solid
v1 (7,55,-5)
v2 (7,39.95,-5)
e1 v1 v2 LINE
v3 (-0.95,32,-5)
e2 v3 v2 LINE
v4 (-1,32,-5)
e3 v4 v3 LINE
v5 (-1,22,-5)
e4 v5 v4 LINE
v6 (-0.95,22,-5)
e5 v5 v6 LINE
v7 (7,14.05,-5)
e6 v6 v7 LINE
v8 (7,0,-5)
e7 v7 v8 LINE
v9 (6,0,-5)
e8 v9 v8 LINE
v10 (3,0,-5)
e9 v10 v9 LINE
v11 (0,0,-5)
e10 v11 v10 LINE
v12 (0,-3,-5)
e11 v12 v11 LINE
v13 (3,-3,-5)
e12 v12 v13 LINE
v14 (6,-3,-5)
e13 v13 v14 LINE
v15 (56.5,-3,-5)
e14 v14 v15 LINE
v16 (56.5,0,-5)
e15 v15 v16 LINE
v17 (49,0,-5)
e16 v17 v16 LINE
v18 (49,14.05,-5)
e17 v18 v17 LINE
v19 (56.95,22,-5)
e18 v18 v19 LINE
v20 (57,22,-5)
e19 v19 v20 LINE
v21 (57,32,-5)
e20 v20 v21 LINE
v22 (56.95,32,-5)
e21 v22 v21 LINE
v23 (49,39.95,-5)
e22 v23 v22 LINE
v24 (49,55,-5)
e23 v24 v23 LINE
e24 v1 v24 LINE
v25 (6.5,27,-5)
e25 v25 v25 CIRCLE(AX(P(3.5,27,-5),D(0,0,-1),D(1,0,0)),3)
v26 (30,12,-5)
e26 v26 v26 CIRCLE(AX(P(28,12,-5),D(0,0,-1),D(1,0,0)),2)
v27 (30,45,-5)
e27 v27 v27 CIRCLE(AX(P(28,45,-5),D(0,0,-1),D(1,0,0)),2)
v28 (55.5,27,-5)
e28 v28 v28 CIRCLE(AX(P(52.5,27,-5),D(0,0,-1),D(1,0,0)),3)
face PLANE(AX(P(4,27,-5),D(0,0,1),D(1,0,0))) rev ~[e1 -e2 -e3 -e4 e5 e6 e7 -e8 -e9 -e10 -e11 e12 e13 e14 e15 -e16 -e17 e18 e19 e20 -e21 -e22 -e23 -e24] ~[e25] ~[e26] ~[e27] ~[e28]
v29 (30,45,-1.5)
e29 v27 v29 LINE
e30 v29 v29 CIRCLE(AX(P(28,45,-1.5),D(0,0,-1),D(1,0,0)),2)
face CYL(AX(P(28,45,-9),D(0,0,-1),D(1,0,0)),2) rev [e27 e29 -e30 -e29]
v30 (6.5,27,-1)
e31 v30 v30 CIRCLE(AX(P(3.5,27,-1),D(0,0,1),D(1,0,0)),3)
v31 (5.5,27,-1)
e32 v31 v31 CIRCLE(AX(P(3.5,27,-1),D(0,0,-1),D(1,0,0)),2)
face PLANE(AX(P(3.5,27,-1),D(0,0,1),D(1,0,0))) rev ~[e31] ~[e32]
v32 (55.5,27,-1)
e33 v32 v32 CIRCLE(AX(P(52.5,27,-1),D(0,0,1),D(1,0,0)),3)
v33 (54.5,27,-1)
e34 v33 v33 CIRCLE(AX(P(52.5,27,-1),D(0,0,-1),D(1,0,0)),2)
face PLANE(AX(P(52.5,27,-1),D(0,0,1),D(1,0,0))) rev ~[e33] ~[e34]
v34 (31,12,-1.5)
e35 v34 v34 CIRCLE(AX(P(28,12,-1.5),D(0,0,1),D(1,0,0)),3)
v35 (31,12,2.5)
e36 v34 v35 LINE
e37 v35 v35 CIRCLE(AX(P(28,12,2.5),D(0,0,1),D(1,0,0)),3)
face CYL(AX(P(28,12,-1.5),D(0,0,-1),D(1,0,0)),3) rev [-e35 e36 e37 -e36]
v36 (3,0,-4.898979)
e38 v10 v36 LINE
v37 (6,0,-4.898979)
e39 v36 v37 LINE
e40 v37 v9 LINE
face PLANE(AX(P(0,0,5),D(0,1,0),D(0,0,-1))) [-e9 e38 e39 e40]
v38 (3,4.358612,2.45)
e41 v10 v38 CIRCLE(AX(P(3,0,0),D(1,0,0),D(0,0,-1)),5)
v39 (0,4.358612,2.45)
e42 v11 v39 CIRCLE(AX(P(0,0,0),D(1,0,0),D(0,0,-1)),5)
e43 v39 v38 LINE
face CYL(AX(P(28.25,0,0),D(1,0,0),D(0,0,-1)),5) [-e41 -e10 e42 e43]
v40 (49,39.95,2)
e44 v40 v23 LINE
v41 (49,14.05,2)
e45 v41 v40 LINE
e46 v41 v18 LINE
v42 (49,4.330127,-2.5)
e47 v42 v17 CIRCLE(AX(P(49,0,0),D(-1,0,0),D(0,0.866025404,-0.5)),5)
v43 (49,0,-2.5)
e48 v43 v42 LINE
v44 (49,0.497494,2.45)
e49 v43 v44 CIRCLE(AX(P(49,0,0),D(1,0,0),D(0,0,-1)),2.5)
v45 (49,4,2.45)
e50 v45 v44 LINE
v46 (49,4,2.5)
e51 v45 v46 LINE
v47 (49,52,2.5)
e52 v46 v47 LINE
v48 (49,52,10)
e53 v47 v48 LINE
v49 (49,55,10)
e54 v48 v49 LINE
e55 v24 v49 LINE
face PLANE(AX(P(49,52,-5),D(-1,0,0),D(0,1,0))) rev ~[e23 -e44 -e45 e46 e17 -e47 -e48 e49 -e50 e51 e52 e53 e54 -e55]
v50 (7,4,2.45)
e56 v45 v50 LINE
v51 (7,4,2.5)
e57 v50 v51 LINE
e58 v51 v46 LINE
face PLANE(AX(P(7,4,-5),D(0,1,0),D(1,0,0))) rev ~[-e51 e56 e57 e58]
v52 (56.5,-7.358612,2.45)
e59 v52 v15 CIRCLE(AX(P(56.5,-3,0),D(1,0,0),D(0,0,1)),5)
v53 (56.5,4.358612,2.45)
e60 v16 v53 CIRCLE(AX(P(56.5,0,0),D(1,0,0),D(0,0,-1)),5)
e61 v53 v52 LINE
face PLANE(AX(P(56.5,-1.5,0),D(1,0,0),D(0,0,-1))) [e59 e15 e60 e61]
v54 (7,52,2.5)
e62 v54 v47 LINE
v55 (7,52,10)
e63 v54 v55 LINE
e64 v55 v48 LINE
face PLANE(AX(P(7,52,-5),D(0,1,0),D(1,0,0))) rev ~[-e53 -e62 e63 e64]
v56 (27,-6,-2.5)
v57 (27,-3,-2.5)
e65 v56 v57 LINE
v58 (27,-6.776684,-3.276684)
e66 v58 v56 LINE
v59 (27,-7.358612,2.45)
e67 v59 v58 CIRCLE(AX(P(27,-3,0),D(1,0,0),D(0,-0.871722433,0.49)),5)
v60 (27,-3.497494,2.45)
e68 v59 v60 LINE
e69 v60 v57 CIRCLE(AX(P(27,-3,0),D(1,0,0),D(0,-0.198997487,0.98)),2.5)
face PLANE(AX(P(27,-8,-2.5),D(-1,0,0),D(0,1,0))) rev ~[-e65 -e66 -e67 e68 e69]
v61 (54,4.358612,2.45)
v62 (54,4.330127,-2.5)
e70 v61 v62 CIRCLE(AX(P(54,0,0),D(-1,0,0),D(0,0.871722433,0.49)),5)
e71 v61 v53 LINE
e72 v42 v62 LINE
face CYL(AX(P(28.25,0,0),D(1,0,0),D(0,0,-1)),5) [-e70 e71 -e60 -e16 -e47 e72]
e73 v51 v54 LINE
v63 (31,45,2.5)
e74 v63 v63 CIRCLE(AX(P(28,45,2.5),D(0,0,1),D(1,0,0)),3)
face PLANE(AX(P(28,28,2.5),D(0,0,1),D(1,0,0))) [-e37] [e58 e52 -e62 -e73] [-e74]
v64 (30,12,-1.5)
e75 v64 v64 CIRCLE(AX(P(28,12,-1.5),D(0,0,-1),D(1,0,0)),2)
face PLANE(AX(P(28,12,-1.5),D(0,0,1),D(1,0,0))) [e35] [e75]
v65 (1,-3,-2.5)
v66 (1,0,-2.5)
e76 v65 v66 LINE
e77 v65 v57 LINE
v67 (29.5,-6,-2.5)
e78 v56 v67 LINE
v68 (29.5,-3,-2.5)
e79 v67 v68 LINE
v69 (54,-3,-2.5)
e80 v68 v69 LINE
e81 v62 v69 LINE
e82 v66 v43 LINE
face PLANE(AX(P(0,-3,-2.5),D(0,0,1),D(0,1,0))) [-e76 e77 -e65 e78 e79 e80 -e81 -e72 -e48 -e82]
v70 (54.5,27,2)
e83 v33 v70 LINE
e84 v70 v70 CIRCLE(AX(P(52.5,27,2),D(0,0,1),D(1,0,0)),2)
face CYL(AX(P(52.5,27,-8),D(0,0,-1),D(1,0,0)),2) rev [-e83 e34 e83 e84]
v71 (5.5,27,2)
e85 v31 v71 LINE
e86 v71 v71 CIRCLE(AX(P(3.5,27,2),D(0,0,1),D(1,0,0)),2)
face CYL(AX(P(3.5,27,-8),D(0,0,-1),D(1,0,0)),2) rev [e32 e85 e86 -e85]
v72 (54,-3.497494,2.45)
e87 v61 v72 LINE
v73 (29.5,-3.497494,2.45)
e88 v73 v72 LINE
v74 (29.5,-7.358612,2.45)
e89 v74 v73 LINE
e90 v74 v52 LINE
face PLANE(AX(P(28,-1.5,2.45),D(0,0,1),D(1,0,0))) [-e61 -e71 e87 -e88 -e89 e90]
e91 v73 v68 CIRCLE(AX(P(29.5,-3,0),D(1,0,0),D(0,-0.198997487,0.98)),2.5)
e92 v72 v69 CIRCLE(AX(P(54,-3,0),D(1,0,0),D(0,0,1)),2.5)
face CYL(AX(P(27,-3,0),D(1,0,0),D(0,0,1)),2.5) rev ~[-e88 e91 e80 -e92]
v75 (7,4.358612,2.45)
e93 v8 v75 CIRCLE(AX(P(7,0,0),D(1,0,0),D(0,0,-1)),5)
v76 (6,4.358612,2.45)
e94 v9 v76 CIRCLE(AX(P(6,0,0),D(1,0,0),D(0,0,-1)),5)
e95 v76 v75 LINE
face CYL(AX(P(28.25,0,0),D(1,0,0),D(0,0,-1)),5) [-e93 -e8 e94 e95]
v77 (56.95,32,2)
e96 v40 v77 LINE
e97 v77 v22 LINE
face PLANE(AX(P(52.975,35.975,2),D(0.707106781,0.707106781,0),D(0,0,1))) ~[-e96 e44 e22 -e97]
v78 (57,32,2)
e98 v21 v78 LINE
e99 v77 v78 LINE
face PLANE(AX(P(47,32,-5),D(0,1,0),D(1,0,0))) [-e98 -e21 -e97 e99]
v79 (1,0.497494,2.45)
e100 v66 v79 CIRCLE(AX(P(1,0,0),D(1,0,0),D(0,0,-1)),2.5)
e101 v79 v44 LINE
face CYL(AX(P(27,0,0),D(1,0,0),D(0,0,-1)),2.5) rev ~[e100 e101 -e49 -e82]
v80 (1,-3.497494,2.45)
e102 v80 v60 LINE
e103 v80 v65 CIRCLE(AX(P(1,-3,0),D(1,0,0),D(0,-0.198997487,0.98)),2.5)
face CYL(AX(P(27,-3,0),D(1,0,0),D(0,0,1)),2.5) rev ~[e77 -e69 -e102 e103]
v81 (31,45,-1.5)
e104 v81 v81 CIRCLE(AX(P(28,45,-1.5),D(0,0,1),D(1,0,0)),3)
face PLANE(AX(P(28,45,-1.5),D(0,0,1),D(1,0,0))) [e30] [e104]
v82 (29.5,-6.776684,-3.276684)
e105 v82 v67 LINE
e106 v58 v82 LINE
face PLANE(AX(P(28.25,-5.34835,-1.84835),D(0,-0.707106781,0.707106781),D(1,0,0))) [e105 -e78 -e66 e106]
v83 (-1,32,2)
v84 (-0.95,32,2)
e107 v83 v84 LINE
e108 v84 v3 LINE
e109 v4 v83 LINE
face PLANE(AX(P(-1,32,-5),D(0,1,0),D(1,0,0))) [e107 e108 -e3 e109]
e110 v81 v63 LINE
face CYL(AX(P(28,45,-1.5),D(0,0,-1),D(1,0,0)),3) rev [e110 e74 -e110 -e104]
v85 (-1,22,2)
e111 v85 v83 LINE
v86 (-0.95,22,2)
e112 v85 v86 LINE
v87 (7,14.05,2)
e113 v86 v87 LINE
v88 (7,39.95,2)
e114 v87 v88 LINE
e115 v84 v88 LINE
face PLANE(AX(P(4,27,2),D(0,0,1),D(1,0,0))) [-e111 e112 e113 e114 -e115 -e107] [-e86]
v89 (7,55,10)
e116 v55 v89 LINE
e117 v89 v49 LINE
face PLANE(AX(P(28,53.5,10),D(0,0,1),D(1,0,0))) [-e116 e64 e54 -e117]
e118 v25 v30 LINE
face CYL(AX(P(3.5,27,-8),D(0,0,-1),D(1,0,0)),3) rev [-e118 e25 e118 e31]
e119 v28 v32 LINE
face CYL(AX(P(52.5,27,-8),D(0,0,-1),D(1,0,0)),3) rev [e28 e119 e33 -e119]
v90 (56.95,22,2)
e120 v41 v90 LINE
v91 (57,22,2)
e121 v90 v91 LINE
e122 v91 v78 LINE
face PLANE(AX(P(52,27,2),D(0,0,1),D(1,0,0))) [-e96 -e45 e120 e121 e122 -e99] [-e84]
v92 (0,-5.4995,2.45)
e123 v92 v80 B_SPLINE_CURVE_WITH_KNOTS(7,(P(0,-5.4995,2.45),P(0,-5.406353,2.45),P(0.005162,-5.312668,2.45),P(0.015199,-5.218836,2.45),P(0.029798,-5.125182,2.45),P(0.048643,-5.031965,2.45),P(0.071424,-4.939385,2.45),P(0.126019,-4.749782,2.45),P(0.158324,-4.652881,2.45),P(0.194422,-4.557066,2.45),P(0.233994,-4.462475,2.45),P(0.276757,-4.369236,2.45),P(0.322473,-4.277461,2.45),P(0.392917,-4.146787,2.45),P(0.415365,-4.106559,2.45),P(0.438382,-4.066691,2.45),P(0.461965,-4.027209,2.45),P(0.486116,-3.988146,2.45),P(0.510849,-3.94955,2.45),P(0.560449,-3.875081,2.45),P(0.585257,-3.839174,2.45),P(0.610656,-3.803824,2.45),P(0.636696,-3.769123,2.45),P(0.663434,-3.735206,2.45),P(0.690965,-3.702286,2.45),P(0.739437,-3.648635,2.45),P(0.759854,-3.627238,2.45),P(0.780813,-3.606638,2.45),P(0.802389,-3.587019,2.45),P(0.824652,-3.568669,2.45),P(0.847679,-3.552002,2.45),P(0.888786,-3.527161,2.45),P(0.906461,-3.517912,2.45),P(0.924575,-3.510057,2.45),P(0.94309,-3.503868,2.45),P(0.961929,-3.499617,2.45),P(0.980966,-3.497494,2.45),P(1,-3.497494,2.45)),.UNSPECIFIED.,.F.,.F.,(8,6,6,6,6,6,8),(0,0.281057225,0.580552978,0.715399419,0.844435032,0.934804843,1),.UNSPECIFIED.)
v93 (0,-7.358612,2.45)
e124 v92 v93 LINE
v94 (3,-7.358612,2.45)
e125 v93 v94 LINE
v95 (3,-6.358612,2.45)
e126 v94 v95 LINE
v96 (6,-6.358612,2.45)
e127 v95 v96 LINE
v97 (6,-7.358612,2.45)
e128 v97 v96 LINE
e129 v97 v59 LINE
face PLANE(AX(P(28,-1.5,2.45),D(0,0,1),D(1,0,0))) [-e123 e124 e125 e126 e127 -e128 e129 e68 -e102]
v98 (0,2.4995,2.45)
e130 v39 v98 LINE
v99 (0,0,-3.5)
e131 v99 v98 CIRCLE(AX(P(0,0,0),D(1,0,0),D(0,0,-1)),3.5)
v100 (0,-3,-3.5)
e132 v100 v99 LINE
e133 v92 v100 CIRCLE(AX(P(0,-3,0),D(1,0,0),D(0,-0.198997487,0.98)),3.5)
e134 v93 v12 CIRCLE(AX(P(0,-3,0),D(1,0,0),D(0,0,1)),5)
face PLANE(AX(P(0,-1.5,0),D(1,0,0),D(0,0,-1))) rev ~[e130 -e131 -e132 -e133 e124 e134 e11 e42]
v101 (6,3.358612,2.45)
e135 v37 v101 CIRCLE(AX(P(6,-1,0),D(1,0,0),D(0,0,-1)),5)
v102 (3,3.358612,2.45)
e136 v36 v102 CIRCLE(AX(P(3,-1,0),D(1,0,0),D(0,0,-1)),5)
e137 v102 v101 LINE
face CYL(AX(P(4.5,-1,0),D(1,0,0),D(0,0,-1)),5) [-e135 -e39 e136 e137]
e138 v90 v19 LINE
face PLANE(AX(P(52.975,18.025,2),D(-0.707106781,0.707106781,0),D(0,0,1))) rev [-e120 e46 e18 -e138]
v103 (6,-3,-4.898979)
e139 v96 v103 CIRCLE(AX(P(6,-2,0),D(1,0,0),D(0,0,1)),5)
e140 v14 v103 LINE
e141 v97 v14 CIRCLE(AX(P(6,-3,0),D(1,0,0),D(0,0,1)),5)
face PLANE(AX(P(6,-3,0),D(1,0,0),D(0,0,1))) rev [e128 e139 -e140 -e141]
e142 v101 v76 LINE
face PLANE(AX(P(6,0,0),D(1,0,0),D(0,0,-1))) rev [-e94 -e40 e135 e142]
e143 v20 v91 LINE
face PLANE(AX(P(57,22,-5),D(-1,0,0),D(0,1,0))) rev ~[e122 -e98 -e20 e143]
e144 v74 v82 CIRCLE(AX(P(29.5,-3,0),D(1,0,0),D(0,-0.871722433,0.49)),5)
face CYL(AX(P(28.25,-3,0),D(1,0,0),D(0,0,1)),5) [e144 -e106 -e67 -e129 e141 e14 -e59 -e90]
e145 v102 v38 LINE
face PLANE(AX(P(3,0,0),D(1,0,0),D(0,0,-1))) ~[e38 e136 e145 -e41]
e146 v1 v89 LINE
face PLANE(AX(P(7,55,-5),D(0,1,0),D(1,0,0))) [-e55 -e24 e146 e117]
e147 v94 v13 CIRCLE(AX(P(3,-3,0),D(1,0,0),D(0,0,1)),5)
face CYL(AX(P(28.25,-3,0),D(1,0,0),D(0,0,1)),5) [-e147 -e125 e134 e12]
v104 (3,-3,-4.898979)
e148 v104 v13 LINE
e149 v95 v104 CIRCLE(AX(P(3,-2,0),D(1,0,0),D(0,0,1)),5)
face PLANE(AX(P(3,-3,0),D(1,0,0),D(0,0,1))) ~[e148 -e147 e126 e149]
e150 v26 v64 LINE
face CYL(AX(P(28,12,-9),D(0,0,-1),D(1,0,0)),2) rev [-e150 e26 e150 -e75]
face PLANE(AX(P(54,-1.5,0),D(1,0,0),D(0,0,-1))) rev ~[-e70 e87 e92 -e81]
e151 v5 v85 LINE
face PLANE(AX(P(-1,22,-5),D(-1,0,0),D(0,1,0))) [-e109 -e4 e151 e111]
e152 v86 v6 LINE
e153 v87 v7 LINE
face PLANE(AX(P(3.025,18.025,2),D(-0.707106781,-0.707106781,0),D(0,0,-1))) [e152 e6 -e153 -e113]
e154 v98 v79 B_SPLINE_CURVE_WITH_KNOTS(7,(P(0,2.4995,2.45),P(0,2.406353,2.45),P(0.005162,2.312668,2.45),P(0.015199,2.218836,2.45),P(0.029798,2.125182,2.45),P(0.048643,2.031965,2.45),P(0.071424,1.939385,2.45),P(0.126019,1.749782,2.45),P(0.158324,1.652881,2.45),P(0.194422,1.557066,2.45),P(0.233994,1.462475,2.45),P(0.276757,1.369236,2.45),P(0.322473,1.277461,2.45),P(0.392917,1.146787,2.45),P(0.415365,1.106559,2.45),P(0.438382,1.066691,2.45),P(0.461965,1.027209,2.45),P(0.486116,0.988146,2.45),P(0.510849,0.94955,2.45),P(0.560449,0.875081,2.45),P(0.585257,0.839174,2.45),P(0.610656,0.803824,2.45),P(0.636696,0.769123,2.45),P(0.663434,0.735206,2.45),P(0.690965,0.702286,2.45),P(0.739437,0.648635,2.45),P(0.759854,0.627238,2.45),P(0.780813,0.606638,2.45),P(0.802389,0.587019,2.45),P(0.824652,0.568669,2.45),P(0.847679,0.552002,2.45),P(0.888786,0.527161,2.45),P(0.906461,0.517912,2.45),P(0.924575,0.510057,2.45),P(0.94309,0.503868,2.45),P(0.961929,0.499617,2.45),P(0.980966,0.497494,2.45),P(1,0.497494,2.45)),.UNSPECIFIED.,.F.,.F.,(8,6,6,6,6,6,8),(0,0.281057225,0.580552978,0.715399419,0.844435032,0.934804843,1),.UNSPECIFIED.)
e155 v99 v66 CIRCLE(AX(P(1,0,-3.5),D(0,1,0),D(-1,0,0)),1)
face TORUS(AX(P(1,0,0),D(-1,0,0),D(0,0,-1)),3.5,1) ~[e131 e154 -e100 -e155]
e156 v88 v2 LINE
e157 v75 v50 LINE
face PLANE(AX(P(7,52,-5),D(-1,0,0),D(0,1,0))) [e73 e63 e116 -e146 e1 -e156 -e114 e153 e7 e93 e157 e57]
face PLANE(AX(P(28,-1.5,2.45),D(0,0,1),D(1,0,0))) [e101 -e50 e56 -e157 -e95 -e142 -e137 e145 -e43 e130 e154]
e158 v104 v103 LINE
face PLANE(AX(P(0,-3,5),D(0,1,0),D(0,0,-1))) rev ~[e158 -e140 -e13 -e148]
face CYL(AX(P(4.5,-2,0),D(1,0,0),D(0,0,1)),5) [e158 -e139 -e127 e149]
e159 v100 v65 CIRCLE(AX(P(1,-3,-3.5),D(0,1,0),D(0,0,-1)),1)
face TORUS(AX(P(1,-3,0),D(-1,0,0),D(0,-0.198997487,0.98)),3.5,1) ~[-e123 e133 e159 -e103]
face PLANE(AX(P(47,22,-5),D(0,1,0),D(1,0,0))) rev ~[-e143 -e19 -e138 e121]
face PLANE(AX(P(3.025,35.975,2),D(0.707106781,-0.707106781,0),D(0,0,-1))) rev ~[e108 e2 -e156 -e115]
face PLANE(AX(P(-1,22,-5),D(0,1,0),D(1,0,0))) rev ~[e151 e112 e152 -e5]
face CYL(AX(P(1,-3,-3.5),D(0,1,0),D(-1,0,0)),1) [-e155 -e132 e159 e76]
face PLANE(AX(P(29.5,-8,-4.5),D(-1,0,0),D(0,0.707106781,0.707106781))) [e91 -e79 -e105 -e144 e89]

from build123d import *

# Parameters (mm, degrees)
CYLINDER008_R           = 3
CYLINDER008_DEPTH       = 4
CYLINDER009_R           = 2
CYLINDER009_DEPTH       = 11.5
CYLINDER007_R           = 3
CYLINDER007_DEPTH       = 4
CYLINDER006_R           = 2
CYLINDER006_DEPTH       = 11.5
CYLINDER004_R           = 2
CYLINDER004_DEPTH       = 10
CYLINDER005_R           = 3
CYLINDER005_DEPTH       = 7
CYLINDER003_R           = 2
CYLINDER003_DEPTH       = 10
CYLINDER_R              = 3
CYLINDER_DEPTH          = 7
CYLINDER002_R           = 5
CYLINDER002_DEPTH       = 56.5
CYLINDER002_PITCH_ANGLE = 90
BOX011_W                = 42
BOX011_H                = 5
BOX011_DEPTH            = 5
BOX007_W                = 42
BOX007_H                = 48
BOX007_DEPTH            = 7.5
BOX008_W                = 42
BOX008_H                = 3
BOX008_DEPTH            = 15
BOX015_W                = 10
BOX015_H                = 10
BOX015_DEPTH            = 7
BOX014_W                = 10
BOX014_H                = 10
BOX014_DEPTH            = 7
BOX020_W                = 2.5
BOX020_H                = 7.5
BOX020_DEPTH            = 10
BOX020_ROLL_ANGLE       = 45
BOX005_W                = 2.5
BOX005_H                = 5
BOX005_DEPTH            = 10
BOX018_W                = 5
BOX018_H                = 5
BOX018_DEPTH            = 10
BOX019_W                = 58
BOX019_H                = 13
BOX019_DEPTH            = 10
CYLINDER021_W           = 5
CYLINDER021_H           = 3
CYLINDER021_ANGLE       = 180
CYLINDER019_W           = 5
CYLINDER019_H           = 3
CYLINDER019_ANGLE       = 180
CYLINDER017_W           = 2.5
CYLINDER017_H           = 54
CYLINDER017_ANGLE       = 180
CYLINDER016_W           = 5
CYLINDER016_H           = 56.5
CYLINDER016_ANGLE       = 180
BOX017_W                = 5
BOX017_H                = 3
BOX017_DEPTH            = 54
BOX016_W                = 10
BOX016_H                = 3
BOX016_DEPTH            = 56.5
CYLINDER020_W           = 5
CYLINDER020_H           = 3
CYLINDER020_ANGLE       = 180
CYLINDER018_W           = 5
CYLINDER018_H           = 3
CYLINDER018_ANGLE       = 180
CYLINDER014_W           = 2.5
CYLINDER014_H           = 54
CYLINDER014_ANGLE       = 180
CYLINDER015_W           = 5
CYLINDER015_H           = 56.5
CYLINDER015_ANGLE       = 180
FUSION007_PITCH_ANGLE   = 90
FILLET_R                = 1
CHAMFER003_SIZE         = 7.95


with BuildPart() as cylinder011:
    # Cylinder008 → Cylinder008 (new body)
    with BuildSketch(Plane.XY.offset(7.5)):
        Circle(CYLINDER008_R)
    extrude(amount=CYLINDER008_DEPTH)


with BuildPart() as bolt_hole4:
    # Cylinder009 → Cylinder009 (new body)
    with BuildSketch(Plane.XY):
        Circle(CYLINDER009_R)
    extrude(amount=CYLINDER009_DEPTH)

    # Fusion004: union Cylinder011
    add(cylinder011.part)


with BuildPart() as bolt_hole4_1:
    # Fusion004 placement: moved
    add(bolt_hole4.part.moved(Location((28, 45, -9))))


with BuildPart() as cylinder008:
    # Cylinder007 → Cylinder007 (new body)
    with BuildSketch(Plane.XY.offset(7.5)):
        Circle(CYLINDER007_R)
    extrude(amount=CYLINDER007_DEPTH)


with BuildPart() as bolt_hole3:
    # Cylinder006 → Cylinder006 (new body)
    with BuildSketch(Plane.XY):
        Circle(CYLINDER006_R)
    extrude(amount=CYLINDER006_DEPTH)

    # Fusion003: union Cylinder008
    add(cylinder008.part)


with BuildPart() as bolt_hole3_1:
    # Fusion003 placement: moved
    add(bolt_hole3.part.moved(Location((28, 12, -9))))


with BuildPart() as cylinder006:
    # Cylinder004 → Cylinder004 (new body)
    with BuildSketch(Plane.XY):
        Circle(CYLINDER004_R)
    extrude(amount=CYLINDER004_DEPTH)


with BuildPart() as bolt_hole2:
    # Cylinder005 → Cylinder005 (new body)
    with BuildSketch(Plane.XY):
        Circle(CYLINDER005_R)
    extrude(amount=CYLINDER005_DEPTH)

    # Fusion002: union Cylinder006
    add(cylinder006.part)


with BuildPart() as bolt_hole2_1:
    # Fusion002 placement: moved
    add(bolt_hole2.part.moved(Location((52.5, 27, -8))))


with BuildPart() as cylinder001:
    # Cylinder003 → Cylinder003 (new body)
    with BuildSketch(Plane.XY):
        Circle(CYLINDER003_R)
    extrude(amount=CYLINDER003_DEPTH)


with BuildPart() as bolt_hole1:
    # Cylinder → Cylinder (new body)
    with BuildSketch(Plane.XY):
        Circle(CYLINDER_R)
    extrude(amount=CYLINDER_DEPTH)

    # Fusion001: union Cylinder001
    add(cylinder001.part)


with BuildPart() as bolt_hole1_1:
    # Fusion001 placement: moved
    add(bolt_hole1.part.moved(Location((3.5, 27, -8))))


with BuildPart() as cable_tunnel_outer_shell:
    # Cylinder002 → Cylinder002 (new body)
    with BuildSketch(Plane.XY):
        Circle(CYLINDER002_R)
    extrude(amount=CYLINDER002_DEPTH)


with BuildPart() as cable_tunnel_outer_shell_1:
    # Cylinder002 pitch: moved
    add(cable_tunnel_outer_shell.part.rotate(Axis((0, 0, 0), (0, 1, 0)), CYLINDER002_PITCH_ANGLE))


with BuildPart() as cable_tunnel_outer_shell_2:
    # Cylinder002 placement: moved
    add(cable_tunnel_outer_shell_1.part)


with BuildPart() as fill_cut1:
    # Box011 → Box011 (new body)
    with BuildSketch(Plane(origin=(7, 0, -5), x_dir=(1, 0, 0), z_dir=(0, 0, 1))):
        with Locations((21, 2.5)):
            Rectangle(BOX011_W, BOX011_H)
    extrude(amount=BOX011_DEPTH)

    # Cut: cut cable-tunnel-outer-shell
    add(cable_tunnel_outer_shell_2.part, mode=Mode.SUBTRACT)


with BuildPart() as base_plate1:
    # Box007 → Box007 (new body)
    with BuildSketch(Plane(origin=(7, 4, -5), x_dir=(1, 0, 0), z_dir=(0, 0, 1))):
        with Locations((21, 24)):
            Rectangle(BOX007_W, BOX007_H)
    extrude(amount=BOX007_DEPTH)


with BuildPart() as nema17_support:
    # Box008 → Box008 (new body)
    with BuildSketch(Plane(origin=(7, 52, -5), x_dir=(1, 0, 0), z_dir=(0, 0, 1))):
        with Locations((21, 1.5)):
            Rectangle(BOX008_W, BOX008_H)
    extrude(amount=BOX008_DEPTH)


with BuildPart() as hold2:
    # Box015 → Box015 (new body)
    with BuildSketch(Plane(origin=(47, 22, -5), x_dir=(1, 0, 0), z_dir=(0, 0, 1))):
        with Locations((5, 5)):
            Rectangle(BOX015_W, BOX015_H)
    extrude(amount=BOX015_DEPTH)


with BuildPart() as hold1:
    # Box014 → Box014 (new body)
    with BuildSketch(Plane(origin=(-1, 22, -5), x_dir=(1, 0, 0), z_dir=(0, 0, 1))):
        with Locations((5, 5)):
            Rectangle(BOX014_W, BOX014_H)
    extrude(amount=BOX014_DEPTH)


with BuildPart() as cut_endstop_cable45:
    # Box020 → Box020 (new body)
    with BuildSketch(Plane.XY):
        with Locations((1.25, 3.75)):
            Rectangle(BOX020_W, BOX020_H)
    extrude(amount=BOX020_DEPTH)


with BuildPart() as cut_endstop_cable45_1:
    # Box020 roll: moved
    add(cut_endstop_cable45.part.rotate(Axis((0, 0, 0), (1, 0, 0)), BOX020_ROLL_ANGLE))


with BuildPart() as cut_endstop_cable45_2:
    # Box020 placement: moved
    add(cut_endstop_cable45_1.part.moved(Location((27, -8, -4.5))))


with BuildPart() as cut_endstop_cable:
    # Box005 → Box005 (new body)
    with BuildSketch(Plane(origin=(27, -8, -2.5), x_dir=(1, 0, 0), z_dir=(0, 0, 1))):
        with Locations((1.25, 2.5)):
            Rectangle(BOX005_W, BOX005_H)
    extrude(amount=BOX005_DEPTH)


with BuildPart() as cut_cable_drop:
    # Box018 → Box018 (new body)
    with BuildSketch(Plane(origin=(49, 0, -2.5), x_dir=(1, 0, 0), z_dir=(0, 0, 1))):
        with Locations((2.5, 2.5)):
            Rectangle(BOX018_W, BOX018_H)
    extrude(amount=BOX018_DEPTH)


with BuildPart() as cut_open:
    # Box019 → Box019 (new body)
    with BuildSketch(Plane(origin=(-1, -8, 2.45), x_dir=(1, 0, 0), z_dir=(0, 0, 1))):
        with Locations((29, 6.5)):
            Rectangle(BOX019_W, BOX019_H)
    extrude(amount=BOX019_DEPTH)


with BuildPart() as cable_tunnel_ziptie_inner_upper:
    # Cylinder021 → Cylinder021 (revolve)
    with BuildSketch(Plane(origin=(0, 1, 3), x_dir=(-1, 0, 0), z_dir=(0, 1, 0))):
        with Locations((2.5, 1.5)):
            Rectangle(CYLINDER021_W, CYLINDER021_H)
    revolve(axis=Axis((0, 1, 3), (0, 0, 1)), revolution_arc=CYLINDER021_ANGLE)


with BuildPart() as cable_tunnel_ziptie_upper_groove:
    # Cylinder019 → Cylinder019 (revolve)
    with BuildSketch(Plane(origin=(0, 0, 3), x_dir=(-1, 0, 0), z_dir=(0, 1, 0))):
        with Locations((2.5, 1.5)):
            Rectangle(CYLINDER019_W, CYLINDER019_H)
    revolve(axis=Axis((0, 0, 3), (0, 0, 1)), revolution_arc=CYLINDER019_ANGLE)

    # Cut014: cut cable-tunnel-ziptie-inner-upper
    add(cable_tunnel_ziptie_inner_upper.part, mode=Mode.SUBTRACT)


with BuildPart() as cable_tunnel_inner_upper:
    # Cylinder017 → Cylinder017 (revolve)
    with BuildSketch(Plane(origin=(0, 0, 0), x_dir=(-1, 0, 0), z_dir=(0, 1, 0))):
        with Locations((1.25, 27)):
            Rectangle(CYLINDER017_W, CYLINDER017_H)
    revolve(axis=Axis((0, 0, 0), (0, 0, 1)), revolution_arc=CYLINDER017_ANGLE)


with BuildPart() as cable_tunnel_upper:
    # Cylinder016 → Cylinder016 (revolve)
    with BuildSketch(Plane(origin=(0, 0, 0), x_dir=(-1, 0, 0), z_dir=(0, 1, 0))):
        with Locations((2.5, 28.25)):
            Rectangle(CYLINDER016_W, CYLINDER016_H)
    revolve(axis=Axis((0, 0, 0), (0, 0, 1)), revolution_arc=CYLINDER016_ANGLE)

    # Cut018: cut cable-tunnel-inner-upper
    add(cable_tunnel_inner_upper.part, mode=Mode.SUBTRACT)

    # Cut019: cut cable-tunnel-ziptie-upper-groove
    add(cable_tunnel_ziptie_upper_groove.part, mode=Mode.SUBTRACT)


with BuildPart() as cable_tunnel_upper_1:
    # Cut019 placement: moved
    add(cable_tunnel_upper.part.moved(Location((0, -3, 0))))


with BuildPart() as cable_tunnel_middle_inner:
    # Box017 → Box017 (new body)
    with BuildSketch(Plane(origin=(-2.5, -3, 0), x_dir=(1, 0, 0), z_dir=(0, 0, 1))):
        with Locations((2.5, 1.5)):
            Rectangle(BOX017_W, BOX017_H)
    extrude(amount=BOX017_DEPTH)


with BuildPart() as cable_tunnel_middle:
    # Box016 → Box016 (new body)
    with BuildSketch(Plane(origin=(-5, -3, 0), x_dir=(1, 0, 0), z_dir=(0, 0, 1))):
        with Locations((5, 1.5)):
            Rectangle(BOX016_W, BOX016_H)
    extrude(amount=BOX016_DEPTH)

    # Cut020: cut cable-tunnel-middle-inner
    add(cable_tunnel_middle_inner.part, mode=Mode.SUBTRACT)


with BuildPart() as cable_tunnel_ziptie_inner_lower:
    # Cylinder020 → Cylinder020 (revolve)
    with BuildSketch(Plane(origin=(0, -1, 3), x_dir=(1, 0, 0), z_dir=(0, -1, 0))):
        with Locations((2.5, 1.5)):
            Rectangle(CYLINDER020_W, CYLINDER020_H)
    revolve(axis=Axis((0, -1, 3), (0, 0, 1)), revolution_arc=CYLINDER020_ANGLE)


with BuildPart() as cable_tunnel_ziptie_lower_groove:
    # Cylinder018 → Cylinder018 (revolve)
    with BuildSketch(Plane(origin=(0, 0, 3), x_dir=(1, 0, 0), z_dir=(0, -1, 0))):
        with Locations((2.5, 1.5)):
            Rectangle(CYLINDER018_W, CYLINDER018_H)
    revolve(axis=Axis((0, 0, 3), (0, 0, 1)), revolution_arc=CYLINDER018_ANGLE)

    # Cut015: cut cable-tunnel-ziptie-inner-lower
    add(cable_tunnel_ziptie_inner_lower.part, mode=Mode.SUBTRACT)


with BuildPart() as cable_tunnel_inner_lower:
    # Cylinder014 → Cylinder014 (revolve)
    with BuildSketch(Plane.XZ):
        with Locations((1.25, 27)):
            Rectangle(CYLINDER014_W, CYLINDER014_H)
    revolve(axis=Axis((0, 0, 0), (0, 0, 1)), revolution_arc=CYLINDER014_ANGLE)


with BuildPart() as holder_with_cable_tunnel:
    # Cylinder015 → Cylinder015 (revolve)
    with BuildSketch(Plane.XZ):
        with Locations((2.5, 28.25)):
            Rectangle(CYLINDER015_W, CYLINDER015_H)
    revolve(axis=Axis((0, 0, 0), (0, 0, 1)), revolution_arc=CYLINDER015_ANGLE)

    # Cut016: cut cable-tunnel-inner-lower
    add(cable_tunnel_inner_lower.part, mode=Mode.SUBTRACT)

    # Cut017: cut cable-tunnel-ziptie-lower-groove
    add(cable_tunnel_ziptie_lower_groove.part, mode=Mode.SUBTRACT)

    # Fusion007: union cable-tunnel-upper, cable-tunnel-middle
    add(cable_tunnel_upper_1.part)
    add(cable_tunnel_middle.part)


with BuildPart() as holder_with_cable_tunnel_1:
    # Fusion007 pitch: moved
    add(holder_with_cable_tunnel.part.rotate(Axis((0, 0, 0), (0, 1, 0)), FUSION007_PITCH_ANGLE))


with BuildPart() as holder_with_cable_tunnel_2:
    # Fusion007 placement: moved
    add(holder_with_cable_tunnel_1.part)

    # Cut021: cut cut-open
    add(cut_open.part, mode=Mode.SUBTRACT)

    # Cut022: cut cut-cable-drop
    add(cut_cable_drop.part, mode=Mode.SUBTRACT)

    # Cut023: cut cut-endstop-cable
    add(cut_endstop_cable.part, mode=Mode.SUBTRACT)

    # Cut024: cut cut-endstop-cable45
    add(cut_endstop_cable45_2.part, mode=Mode.SUBTRACT)

    # Fillet
    fillet_edges = [holder_with_cable_tunnel_2.edges().sort_by_distance(p)[0] for p in [
        (0, -5.487469, -0.25),
        (0, -1.5, -2.5),
        (0, 2.487469, -0.25),
    ]]
    fillet(fillet_edges, radius=FILLET_R)

    # Fusion008: union fill-cut1, base-plate1, nema17-support, hold2, hold1
    add(fill_cut1.part)
    add(base_plate1.part)
    add(nema17_support.part)
    add(hold2.part)
    add(hold1.part)

    # Cut025: cut bolt-hole1
    add(bolt_hole1_1.part, mode=Mode.SUBTRACT)

    # Cut026: cut bolt-hole2
    add(bolt_hole2_1.part, mode=Mode.SUBTRACT)

    # Cut027: cut bolt-hole3
    add(bolt_hole3_1.part, mode=Mode.SUBTRACT)

    # Cut028: cut bolt-hole4
    add(bolt_hole4_1.part, mode=Mode.SUBTRACT)

    # Chamfer003
    chamfer003_edges = [holder_with_cable_tunnel_2.edges().sort_by_distance(p)[0] for p in [
        (7, 22, -1.5),
        (7, 32, -1.5),
        (49, 32, -1.5),
        (49, 22, -1.5),
    ]]
    chamfer(chamfer003_edges, length=CHAMFER003_SIZE)


solid = holder_with_cable_tunnel_2.part
